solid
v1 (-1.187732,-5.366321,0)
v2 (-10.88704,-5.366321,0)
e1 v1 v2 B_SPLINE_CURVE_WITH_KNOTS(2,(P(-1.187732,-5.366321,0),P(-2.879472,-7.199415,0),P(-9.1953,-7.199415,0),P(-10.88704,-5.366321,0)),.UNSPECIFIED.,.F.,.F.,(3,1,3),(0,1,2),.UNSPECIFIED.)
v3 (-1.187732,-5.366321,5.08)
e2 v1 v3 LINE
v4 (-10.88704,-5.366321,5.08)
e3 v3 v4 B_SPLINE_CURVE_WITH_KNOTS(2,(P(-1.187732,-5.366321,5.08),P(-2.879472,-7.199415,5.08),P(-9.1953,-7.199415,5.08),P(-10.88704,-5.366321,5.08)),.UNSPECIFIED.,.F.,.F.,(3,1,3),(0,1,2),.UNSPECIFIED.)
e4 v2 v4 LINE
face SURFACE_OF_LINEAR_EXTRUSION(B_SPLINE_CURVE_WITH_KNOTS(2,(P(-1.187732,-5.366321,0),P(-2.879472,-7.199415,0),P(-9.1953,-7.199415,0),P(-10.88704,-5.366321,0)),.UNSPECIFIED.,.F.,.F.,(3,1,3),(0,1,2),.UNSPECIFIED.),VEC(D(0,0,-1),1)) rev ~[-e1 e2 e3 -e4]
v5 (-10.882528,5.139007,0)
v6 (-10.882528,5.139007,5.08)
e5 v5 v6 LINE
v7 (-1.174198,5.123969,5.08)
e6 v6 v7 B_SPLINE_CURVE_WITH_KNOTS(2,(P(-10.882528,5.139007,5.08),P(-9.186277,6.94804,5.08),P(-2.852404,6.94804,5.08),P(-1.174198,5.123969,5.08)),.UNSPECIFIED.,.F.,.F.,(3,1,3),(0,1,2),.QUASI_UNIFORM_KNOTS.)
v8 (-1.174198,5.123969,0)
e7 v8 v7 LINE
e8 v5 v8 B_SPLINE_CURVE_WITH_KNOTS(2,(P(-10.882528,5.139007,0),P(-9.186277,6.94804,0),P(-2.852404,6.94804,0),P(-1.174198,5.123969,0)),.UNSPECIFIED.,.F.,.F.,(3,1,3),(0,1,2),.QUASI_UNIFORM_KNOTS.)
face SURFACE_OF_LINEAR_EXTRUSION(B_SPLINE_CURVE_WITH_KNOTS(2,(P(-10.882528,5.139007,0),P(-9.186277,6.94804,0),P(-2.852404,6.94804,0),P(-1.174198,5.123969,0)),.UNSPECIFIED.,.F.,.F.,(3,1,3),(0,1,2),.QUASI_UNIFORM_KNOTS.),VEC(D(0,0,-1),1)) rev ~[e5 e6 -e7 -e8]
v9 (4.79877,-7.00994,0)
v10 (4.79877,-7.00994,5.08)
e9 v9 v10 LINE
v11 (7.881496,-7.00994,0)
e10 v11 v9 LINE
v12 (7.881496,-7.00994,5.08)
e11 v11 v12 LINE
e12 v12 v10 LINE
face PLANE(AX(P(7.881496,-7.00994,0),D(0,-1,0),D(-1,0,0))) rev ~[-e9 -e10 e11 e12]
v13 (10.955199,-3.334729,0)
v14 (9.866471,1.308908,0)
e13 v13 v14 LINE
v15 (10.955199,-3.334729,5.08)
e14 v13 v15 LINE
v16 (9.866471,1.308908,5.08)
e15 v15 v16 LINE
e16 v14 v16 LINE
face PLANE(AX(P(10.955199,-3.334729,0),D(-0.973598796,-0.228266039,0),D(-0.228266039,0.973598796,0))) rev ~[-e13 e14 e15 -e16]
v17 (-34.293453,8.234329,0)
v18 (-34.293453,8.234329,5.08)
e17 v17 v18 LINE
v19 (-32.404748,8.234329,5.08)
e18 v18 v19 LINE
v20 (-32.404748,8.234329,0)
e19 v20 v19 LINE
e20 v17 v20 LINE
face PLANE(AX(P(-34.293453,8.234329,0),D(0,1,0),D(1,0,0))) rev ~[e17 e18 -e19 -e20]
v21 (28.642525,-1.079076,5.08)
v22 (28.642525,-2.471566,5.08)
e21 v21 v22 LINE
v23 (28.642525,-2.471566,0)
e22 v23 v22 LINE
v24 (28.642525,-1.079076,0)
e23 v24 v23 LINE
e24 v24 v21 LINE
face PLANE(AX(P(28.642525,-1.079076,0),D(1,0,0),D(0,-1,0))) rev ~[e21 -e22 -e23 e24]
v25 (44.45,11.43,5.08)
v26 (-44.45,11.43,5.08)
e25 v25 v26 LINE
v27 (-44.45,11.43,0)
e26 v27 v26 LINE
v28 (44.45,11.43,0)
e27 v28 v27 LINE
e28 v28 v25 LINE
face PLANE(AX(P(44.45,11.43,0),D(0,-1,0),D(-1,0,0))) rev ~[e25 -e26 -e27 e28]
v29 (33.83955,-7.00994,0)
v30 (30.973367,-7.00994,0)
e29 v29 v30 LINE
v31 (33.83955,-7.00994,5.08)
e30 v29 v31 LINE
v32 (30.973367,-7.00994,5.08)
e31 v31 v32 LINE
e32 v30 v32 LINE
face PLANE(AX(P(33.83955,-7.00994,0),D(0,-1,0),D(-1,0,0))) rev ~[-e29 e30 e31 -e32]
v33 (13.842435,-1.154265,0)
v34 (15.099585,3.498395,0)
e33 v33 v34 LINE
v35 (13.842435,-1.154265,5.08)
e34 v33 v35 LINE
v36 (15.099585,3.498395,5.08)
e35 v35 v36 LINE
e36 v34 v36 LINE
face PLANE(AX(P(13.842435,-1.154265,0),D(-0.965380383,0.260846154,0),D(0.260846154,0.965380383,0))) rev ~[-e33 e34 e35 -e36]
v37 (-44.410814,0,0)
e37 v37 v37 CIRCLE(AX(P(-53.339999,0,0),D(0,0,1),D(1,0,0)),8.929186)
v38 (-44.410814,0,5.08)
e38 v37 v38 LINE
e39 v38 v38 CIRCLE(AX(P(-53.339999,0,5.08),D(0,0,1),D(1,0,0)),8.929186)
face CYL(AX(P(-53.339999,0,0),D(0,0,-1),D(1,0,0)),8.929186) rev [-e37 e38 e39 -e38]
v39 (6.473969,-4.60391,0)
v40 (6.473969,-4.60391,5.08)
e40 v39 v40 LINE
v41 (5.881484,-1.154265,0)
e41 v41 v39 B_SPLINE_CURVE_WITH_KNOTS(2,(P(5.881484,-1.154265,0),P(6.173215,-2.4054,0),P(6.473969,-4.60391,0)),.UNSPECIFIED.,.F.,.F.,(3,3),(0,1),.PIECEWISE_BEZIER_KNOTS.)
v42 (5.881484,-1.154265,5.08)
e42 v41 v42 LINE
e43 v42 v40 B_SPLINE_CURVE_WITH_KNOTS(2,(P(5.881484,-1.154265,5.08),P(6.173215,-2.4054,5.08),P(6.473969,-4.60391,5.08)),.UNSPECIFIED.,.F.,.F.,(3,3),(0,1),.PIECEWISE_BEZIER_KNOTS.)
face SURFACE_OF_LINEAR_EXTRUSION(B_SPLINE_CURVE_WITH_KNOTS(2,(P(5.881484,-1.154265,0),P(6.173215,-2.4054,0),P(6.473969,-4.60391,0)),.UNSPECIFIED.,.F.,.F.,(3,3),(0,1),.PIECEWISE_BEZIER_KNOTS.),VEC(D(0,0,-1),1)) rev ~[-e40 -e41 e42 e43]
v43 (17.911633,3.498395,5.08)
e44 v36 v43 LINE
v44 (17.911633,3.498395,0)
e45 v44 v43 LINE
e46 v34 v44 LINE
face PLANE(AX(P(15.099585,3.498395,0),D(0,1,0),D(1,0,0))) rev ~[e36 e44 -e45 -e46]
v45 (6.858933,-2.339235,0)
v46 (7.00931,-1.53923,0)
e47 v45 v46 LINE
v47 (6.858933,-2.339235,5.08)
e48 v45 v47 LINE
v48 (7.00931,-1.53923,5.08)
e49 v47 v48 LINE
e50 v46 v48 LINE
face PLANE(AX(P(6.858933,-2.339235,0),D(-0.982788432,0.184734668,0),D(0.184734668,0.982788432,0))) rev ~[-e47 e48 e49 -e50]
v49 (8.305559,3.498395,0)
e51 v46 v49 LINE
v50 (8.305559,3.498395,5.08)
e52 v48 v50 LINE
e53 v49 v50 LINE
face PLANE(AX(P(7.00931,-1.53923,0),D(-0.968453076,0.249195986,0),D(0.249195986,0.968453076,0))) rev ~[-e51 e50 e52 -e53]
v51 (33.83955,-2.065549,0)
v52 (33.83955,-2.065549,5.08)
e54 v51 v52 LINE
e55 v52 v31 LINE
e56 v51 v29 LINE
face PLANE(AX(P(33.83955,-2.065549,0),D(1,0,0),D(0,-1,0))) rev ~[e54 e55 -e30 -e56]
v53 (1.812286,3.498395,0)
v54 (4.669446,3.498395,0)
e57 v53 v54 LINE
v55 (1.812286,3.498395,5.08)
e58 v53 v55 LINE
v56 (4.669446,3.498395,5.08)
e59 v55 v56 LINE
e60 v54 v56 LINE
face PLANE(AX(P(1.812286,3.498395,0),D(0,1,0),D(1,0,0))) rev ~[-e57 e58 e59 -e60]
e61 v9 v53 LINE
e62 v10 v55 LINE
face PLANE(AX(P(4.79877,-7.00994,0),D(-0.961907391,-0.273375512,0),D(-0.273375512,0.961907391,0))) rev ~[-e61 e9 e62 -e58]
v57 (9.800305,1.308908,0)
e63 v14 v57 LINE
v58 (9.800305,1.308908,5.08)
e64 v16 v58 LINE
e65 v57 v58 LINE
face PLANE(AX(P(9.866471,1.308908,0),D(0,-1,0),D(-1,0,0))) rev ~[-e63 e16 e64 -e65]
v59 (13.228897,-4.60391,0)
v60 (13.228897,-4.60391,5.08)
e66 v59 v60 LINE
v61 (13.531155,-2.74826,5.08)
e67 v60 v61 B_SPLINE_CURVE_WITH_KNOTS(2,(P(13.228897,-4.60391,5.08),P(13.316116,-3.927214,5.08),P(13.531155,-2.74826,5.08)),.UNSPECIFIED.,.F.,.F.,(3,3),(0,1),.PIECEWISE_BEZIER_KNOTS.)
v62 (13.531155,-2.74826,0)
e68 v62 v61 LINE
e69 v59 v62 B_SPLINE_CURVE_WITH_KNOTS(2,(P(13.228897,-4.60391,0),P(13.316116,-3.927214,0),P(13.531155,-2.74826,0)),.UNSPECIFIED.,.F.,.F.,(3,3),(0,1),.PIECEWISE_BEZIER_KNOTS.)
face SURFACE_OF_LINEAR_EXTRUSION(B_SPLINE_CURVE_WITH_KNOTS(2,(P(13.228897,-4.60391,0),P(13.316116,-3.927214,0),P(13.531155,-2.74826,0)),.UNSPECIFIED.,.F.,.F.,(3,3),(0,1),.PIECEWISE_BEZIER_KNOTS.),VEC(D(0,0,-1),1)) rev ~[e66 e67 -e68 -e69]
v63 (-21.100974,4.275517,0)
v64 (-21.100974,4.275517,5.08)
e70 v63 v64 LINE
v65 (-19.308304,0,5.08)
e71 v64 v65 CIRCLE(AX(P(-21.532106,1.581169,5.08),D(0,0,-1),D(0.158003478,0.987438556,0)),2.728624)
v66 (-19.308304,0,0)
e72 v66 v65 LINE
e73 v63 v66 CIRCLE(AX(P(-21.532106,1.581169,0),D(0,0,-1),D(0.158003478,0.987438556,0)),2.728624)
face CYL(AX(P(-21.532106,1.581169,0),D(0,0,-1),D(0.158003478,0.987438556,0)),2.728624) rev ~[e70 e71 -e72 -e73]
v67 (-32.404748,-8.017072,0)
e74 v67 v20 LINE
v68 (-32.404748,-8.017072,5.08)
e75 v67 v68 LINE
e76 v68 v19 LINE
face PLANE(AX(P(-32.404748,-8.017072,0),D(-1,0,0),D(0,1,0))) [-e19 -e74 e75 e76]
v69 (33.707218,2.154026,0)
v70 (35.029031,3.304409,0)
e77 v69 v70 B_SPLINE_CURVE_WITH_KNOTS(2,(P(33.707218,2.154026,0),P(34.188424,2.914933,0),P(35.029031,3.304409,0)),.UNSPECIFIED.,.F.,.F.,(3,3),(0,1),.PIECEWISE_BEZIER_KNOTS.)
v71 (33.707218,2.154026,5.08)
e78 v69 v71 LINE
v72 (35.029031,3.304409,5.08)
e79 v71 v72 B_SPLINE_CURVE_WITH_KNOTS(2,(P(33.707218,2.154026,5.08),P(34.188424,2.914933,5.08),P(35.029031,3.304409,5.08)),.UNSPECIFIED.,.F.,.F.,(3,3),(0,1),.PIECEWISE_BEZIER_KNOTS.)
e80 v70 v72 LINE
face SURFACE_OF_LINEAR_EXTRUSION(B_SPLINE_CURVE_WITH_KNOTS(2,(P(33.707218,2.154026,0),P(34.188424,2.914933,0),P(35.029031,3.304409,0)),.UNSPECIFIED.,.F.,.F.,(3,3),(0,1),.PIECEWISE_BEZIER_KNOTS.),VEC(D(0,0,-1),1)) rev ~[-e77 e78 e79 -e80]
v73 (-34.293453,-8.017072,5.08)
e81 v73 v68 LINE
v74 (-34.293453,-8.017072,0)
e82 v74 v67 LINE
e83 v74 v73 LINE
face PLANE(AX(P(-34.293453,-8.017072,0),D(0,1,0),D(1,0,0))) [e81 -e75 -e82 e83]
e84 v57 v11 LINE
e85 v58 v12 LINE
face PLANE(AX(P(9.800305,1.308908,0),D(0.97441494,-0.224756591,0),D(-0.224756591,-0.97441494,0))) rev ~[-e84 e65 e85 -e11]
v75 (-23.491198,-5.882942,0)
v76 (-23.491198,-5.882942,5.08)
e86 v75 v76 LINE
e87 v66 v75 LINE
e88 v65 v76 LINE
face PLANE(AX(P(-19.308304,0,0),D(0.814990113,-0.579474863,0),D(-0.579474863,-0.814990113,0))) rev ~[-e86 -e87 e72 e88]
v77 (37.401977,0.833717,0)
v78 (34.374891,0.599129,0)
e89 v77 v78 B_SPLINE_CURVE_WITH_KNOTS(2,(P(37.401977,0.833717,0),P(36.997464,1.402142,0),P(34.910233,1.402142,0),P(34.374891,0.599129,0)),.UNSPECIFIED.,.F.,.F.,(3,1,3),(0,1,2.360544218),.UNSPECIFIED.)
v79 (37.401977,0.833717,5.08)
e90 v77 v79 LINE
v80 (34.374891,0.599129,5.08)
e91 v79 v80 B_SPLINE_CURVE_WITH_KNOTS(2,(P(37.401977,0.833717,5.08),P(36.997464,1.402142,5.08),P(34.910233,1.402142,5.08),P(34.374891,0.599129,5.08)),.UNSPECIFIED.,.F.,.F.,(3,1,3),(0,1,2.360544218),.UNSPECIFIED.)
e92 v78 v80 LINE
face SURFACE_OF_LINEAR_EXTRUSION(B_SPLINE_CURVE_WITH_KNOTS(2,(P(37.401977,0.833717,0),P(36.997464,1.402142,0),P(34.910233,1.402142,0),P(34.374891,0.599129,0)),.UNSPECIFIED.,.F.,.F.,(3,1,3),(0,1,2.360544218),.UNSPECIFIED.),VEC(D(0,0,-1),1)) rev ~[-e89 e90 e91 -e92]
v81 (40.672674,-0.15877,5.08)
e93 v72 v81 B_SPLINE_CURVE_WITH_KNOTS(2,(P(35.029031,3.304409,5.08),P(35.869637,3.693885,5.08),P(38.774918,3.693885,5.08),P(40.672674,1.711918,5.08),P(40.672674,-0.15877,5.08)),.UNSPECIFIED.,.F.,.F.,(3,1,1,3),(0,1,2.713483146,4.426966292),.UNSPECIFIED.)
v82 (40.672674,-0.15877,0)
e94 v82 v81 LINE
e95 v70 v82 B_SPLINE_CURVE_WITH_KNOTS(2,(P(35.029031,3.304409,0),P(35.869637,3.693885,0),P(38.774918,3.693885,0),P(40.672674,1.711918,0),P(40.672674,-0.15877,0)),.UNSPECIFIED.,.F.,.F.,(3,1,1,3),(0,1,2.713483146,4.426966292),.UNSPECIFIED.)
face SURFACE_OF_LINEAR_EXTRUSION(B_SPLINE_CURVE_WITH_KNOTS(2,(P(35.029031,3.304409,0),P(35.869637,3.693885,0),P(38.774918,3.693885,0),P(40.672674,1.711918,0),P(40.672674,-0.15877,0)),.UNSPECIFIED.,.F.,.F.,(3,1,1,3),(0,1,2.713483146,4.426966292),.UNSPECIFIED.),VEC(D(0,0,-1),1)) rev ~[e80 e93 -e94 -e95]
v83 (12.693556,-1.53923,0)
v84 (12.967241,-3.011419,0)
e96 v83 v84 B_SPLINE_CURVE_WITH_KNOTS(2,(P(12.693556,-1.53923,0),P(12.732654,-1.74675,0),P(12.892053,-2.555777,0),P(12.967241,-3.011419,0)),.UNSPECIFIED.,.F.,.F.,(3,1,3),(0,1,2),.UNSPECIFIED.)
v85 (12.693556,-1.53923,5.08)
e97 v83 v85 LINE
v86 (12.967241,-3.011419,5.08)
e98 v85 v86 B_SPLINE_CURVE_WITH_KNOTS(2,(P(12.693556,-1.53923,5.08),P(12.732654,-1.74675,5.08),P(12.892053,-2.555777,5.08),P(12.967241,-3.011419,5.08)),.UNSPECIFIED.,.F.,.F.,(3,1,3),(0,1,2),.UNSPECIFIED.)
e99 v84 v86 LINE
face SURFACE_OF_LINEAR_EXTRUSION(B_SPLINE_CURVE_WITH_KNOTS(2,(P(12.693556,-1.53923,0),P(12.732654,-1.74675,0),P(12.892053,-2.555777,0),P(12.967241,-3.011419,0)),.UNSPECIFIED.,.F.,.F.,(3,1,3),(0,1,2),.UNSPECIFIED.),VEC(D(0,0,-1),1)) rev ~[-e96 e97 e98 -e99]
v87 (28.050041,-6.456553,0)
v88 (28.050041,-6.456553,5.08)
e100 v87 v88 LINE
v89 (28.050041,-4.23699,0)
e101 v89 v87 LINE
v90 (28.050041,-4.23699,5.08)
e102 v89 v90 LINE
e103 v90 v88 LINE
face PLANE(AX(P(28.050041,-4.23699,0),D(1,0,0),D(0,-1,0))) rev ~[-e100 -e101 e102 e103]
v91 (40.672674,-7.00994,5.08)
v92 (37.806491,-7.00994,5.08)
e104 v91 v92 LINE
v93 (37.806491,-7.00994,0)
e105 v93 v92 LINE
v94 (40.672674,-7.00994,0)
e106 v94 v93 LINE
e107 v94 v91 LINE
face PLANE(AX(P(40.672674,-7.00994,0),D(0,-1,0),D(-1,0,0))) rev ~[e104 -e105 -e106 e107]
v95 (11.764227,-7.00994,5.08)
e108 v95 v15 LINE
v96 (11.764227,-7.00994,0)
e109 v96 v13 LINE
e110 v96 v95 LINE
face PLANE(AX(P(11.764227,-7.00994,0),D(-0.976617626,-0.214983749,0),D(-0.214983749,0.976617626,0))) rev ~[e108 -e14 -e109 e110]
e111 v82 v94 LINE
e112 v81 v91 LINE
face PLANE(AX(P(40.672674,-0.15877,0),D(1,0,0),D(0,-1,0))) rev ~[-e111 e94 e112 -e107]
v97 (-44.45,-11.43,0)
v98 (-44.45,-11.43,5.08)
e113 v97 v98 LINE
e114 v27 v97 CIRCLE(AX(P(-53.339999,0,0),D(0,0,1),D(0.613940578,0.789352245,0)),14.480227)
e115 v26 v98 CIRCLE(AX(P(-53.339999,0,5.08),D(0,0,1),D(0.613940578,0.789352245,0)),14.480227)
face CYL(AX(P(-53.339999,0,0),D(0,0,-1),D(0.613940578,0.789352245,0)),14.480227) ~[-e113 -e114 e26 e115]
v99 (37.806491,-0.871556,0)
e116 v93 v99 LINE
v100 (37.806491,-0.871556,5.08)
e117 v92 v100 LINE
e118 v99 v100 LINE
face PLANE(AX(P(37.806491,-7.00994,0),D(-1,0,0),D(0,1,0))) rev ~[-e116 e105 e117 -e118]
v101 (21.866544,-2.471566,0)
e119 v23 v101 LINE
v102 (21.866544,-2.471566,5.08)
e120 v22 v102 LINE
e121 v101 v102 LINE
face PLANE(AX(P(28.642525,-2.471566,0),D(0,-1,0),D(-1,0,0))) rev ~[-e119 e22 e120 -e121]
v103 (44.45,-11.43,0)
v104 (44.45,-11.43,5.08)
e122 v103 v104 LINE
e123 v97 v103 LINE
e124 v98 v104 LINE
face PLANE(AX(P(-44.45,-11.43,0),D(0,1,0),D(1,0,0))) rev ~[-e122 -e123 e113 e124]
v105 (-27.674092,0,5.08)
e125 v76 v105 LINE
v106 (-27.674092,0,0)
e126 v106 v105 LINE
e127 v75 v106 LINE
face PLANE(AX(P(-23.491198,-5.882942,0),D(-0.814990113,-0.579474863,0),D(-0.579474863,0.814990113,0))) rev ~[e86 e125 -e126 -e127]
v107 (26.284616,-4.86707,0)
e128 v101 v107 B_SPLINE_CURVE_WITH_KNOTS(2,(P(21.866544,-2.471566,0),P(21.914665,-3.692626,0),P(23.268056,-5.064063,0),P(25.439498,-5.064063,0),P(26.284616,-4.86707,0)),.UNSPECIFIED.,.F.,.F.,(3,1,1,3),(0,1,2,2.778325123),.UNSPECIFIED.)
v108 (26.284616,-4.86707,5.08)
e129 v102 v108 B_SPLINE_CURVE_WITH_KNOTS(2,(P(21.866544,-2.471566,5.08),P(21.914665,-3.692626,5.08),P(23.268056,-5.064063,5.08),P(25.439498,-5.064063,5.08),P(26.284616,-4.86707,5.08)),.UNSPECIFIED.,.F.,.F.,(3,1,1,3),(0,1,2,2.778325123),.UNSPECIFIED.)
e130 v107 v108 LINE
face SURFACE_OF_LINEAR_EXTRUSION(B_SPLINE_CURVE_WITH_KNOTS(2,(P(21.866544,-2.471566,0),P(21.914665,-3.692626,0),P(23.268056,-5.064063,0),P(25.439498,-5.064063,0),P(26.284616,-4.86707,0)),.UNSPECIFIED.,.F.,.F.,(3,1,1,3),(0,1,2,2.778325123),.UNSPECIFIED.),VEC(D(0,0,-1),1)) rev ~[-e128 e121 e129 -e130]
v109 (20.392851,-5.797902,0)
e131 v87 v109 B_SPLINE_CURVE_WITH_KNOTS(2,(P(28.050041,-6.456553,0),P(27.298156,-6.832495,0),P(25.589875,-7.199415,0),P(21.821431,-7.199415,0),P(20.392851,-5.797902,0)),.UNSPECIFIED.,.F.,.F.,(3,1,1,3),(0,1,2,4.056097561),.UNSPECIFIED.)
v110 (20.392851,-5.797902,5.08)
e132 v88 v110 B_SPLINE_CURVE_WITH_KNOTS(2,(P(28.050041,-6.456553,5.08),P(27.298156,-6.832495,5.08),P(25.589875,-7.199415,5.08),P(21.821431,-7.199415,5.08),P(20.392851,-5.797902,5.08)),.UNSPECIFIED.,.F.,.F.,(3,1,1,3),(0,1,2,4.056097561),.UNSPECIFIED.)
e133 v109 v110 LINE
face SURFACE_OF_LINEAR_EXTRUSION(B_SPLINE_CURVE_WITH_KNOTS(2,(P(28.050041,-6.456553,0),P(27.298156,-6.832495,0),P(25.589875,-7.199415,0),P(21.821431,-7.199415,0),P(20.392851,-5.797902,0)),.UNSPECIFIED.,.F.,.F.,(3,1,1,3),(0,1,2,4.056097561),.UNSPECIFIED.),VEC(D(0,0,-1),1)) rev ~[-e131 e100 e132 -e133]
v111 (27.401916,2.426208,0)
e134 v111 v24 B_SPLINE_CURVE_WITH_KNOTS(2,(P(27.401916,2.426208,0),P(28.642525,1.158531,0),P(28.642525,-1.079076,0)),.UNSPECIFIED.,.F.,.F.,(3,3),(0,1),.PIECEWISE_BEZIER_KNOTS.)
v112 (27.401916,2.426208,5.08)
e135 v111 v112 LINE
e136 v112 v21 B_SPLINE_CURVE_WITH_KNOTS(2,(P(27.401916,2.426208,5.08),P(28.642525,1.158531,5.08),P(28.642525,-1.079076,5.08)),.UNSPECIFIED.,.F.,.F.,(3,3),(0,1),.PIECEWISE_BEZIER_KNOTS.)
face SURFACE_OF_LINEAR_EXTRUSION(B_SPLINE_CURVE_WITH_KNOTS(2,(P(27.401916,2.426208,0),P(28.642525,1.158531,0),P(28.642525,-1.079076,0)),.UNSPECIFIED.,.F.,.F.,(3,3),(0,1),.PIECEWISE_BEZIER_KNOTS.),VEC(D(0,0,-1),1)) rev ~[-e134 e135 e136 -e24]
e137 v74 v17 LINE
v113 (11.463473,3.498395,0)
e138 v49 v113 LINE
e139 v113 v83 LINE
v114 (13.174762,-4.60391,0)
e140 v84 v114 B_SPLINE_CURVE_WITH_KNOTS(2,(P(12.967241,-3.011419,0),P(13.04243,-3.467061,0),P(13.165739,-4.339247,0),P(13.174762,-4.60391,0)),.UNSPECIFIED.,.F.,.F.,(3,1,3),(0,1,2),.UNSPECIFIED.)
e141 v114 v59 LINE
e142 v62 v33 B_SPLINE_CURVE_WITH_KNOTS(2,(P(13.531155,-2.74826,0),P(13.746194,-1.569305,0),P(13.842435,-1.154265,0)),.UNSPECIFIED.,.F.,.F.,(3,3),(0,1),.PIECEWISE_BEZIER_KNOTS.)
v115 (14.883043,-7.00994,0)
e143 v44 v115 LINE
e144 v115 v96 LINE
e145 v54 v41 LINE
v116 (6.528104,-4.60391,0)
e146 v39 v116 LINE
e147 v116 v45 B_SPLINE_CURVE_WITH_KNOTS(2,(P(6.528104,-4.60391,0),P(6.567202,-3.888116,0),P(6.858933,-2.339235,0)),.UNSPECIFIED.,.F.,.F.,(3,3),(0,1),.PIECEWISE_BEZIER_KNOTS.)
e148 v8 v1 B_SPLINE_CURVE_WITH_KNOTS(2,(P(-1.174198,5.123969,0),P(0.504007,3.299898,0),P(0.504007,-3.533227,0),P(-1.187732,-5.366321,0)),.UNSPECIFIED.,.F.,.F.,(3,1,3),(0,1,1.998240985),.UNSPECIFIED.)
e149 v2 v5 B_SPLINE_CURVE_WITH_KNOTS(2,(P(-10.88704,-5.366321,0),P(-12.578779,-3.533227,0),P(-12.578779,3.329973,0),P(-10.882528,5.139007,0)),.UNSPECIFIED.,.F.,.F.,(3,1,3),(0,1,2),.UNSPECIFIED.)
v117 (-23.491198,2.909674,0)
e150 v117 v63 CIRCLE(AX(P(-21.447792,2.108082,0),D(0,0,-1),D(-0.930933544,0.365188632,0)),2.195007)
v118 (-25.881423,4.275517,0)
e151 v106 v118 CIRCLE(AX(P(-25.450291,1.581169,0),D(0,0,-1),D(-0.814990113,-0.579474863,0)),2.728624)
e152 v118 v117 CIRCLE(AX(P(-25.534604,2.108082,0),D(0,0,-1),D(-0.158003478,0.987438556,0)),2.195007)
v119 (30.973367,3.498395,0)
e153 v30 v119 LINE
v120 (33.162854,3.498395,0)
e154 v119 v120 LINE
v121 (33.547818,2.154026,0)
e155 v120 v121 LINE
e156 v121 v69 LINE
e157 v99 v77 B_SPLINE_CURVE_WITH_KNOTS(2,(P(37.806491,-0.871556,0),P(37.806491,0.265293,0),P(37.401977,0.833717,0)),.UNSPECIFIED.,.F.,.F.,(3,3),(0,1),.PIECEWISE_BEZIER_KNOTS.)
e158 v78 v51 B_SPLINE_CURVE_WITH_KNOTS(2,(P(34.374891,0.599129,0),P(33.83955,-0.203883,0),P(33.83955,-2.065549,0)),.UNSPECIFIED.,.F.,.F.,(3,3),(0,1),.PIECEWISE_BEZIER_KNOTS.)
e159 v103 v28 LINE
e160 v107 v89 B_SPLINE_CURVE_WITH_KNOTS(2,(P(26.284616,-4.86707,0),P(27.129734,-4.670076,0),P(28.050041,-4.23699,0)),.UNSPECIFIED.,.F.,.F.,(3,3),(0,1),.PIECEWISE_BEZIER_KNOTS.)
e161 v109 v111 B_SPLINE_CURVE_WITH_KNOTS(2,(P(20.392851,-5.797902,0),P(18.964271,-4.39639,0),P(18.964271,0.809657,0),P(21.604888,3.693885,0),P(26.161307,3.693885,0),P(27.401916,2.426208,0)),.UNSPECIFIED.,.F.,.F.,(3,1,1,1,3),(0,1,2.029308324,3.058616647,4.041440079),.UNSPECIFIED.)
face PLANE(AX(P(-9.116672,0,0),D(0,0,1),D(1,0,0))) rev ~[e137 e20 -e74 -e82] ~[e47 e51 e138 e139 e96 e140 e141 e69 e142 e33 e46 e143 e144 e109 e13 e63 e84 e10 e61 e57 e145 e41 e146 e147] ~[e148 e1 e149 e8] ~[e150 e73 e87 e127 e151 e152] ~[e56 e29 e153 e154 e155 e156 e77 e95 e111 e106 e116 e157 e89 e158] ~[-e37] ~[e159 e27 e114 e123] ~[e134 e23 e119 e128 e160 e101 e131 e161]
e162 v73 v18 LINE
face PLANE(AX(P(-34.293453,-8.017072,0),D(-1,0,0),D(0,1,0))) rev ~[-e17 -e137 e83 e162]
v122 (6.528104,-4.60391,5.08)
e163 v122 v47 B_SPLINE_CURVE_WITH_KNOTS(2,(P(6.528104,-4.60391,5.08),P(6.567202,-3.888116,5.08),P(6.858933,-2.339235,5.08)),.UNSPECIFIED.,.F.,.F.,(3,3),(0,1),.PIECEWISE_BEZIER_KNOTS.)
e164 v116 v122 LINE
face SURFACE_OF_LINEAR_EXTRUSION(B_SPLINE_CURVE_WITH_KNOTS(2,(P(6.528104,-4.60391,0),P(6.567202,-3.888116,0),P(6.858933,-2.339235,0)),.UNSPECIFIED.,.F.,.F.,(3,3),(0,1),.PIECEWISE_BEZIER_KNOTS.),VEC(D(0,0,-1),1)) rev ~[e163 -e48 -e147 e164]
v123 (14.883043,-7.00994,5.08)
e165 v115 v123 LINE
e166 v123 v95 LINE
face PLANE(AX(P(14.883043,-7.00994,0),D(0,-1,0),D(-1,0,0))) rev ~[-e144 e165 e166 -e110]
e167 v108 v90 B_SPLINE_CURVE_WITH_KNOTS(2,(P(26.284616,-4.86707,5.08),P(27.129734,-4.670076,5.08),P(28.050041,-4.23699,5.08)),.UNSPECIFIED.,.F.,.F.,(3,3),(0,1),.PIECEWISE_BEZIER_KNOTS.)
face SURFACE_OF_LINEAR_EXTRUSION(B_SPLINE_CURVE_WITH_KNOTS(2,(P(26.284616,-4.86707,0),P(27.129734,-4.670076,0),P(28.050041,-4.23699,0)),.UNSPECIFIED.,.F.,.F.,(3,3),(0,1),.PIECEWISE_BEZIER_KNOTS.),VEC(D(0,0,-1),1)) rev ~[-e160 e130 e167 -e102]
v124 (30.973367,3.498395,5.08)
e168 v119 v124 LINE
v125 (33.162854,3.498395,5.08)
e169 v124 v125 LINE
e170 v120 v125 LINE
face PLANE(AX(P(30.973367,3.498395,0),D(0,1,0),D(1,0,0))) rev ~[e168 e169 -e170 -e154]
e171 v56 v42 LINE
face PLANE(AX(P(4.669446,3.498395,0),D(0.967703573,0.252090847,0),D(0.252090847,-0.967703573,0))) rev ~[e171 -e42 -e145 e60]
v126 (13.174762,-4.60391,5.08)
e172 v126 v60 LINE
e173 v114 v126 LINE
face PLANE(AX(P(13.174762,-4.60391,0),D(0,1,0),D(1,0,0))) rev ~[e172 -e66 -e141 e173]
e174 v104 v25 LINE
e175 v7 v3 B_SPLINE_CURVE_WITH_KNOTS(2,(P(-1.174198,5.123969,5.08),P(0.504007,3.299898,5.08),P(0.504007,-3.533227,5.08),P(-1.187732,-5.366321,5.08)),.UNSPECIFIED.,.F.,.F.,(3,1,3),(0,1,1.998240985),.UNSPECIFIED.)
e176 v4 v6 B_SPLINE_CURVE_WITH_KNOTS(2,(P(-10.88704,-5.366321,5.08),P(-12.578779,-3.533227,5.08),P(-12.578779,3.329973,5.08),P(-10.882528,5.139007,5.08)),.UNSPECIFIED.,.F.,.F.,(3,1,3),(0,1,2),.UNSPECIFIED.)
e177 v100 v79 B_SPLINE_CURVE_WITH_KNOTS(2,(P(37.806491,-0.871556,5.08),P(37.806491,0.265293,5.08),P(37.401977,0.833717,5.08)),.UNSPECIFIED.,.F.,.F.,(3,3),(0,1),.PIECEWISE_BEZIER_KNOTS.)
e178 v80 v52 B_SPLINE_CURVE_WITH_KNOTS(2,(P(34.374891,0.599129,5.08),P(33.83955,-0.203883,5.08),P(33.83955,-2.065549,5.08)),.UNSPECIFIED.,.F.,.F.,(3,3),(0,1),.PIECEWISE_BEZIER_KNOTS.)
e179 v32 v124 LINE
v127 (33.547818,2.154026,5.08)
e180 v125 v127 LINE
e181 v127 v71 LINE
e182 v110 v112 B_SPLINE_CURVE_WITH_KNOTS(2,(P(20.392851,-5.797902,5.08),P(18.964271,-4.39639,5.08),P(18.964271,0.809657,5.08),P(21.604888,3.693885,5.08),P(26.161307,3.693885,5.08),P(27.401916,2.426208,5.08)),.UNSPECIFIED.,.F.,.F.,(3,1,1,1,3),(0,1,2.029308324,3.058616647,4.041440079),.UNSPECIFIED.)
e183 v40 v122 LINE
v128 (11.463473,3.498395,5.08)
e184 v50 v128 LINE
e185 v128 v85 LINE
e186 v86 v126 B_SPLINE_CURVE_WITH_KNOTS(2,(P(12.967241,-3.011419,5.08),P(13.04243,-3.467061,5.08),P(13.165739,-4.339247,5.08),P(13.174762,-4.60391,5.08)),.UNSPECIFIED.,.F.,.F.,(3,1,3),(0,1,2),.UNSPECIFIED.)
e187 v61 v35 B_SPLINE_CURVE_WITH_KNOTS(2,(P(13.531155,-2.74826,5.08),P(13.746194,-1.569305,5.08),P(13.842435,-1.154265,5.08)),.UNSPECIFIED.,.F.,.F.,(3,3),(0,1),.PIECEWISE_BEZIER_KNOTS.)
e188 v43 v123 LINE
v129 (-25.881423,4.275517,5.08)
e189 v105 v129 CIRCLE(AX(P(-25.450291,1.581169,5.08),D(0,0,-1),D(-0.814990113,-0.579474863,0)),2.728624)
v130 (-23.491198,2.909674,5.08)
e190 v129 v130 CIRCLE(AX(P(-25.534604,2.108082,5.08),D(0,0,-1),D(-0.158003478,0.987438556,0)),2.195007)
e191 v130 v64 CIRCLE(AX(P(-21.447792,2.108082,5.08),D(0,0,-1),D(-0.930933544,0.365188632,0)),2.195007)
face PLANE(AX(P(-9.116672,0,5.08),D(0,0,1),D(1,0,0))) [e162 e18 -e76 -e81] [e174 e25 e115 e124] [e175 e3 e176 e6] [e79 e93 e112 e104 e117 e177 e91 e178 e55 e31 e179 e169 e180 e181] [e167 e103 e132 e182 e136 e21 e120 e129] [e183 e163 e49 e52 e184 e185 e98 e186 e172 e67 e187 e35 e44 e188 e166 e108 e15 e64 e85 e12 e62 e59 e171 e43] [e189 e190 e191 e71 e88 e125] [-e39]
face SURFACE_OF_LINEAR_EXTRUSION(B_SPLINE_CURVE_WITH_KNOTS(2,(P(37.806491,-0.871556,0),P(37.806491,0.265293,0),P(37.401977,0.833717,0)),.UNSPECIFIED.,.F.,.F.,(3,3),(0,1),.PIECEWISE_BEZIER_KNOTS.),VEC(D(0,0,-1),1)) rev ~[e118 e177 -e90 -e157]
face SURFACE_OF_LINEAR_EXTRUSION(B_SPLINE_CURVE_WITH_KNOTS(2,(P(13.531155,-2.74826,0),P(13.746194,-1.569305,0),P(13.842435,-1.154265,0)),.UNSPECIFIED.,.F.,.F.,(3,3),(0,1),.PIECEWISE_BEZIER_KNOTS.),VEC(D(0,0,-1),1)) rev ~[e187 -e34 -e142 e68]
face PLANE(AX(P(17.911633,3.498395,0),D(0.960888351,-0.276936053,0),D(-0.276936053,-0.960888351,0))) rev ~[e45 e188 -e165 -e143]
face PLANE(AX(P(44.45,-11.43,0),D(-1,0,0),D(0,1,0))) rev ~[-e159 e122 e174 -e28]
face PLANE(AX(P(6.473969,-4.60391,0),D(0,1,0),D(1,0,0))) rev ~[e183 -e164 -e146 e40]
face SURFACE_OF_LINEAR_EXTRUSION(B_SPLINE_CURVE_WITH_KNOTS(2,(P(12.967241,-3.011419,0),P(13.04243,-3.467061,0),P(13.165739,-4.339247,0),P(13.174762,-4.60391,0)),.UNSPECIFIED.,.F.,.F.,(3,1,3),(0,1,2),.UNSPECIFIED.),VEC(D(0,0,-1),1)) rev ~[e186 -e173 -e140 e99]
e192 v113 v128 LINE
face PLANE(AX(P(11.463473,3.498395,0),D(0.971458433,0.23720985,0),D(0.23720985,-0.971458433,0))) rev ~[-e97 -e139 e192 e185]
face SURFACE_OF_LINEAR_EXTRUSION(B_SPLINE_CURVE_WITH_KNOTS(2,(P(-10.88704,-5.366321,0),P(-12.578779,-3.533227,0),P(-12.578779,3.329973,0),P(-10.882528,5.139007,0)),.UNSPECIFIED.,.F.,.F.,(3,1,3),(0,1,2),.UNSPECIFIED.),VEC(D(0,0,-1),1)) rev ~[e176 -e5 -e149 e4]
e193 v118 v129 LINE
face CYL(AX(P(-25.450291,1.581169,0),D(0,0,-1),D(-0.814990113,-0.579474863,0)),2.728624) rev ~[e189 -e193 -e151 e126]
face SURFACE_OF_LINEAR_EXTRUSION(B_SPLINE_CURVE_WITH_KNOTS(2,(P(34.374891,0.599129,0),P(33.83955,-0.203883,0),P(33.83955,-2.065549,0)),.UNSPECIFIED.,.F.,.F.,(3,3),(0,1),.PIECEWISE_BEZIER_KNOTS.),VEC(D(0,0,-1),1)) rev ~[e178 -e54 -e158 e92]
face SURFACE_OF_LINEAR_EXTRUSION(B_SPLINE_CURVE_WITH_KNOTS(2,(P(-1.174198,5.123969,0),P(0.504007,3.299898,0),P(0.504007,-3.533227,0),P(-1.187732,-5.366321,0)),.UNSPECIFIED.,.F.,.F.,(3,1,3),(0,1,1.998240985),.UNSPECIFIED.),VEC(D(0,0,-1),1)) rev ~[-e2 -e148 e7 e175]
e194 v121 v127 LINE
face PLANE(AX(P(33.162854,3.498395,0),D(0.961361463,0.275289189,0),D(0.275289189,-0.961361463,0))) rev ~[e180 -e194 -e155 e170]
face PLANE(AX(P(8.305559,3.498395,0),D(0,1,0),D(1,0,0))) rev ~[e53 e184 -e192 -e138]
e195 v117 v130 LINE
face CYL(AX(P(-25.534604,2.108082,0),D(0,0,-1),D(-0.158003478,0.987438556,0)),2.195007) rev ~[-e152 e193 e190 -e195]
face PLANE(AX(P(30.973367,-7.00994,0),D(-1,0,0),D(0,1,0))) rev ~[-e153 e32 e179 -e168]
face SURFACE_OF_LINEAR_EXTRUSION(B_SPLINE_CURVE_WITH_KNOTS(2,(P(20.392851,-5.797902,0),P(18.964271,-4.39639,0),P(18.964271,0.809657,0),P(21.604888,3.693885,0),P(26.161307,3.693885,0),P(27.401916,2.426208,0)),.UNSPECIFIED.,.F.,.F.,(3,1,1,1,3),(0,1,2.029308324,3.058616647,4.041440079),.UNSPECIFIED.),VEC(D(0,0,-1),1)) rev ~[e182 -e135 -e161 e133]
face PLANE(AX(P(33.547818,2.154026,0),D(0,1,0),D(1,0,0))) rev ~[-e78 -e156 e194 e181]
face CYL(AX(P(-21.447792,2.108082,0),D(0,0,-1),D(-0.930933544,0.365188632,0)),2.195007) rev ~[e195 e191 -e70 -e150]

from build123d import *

# Parameters (mm, degrees)
F0_R     = 8.9291855446
F0_W     = 1.8887050901
F0_H     = 16.251400295
F1_DEPTH = 5.08


with BuildPart() as f1:
    # F0 (on Top) → F1 (new body)
    with BuildSketch(Plane.XY):
        with BuildLine():
            Line((44.45, -11.43), (44.45, 11.43))
            Line((44.45, 11.43), (-44.45, 11.43))
            ThreePointArc((-44.45, 11.43), (-67.8202265578, 0), (-44.45, -11.43))
            Line((-44.45, -11.43), (44.45, -11.43))
        make_face()
        with BuildLine():
            Line((-19.3083044142, 0), (-23.491198197, -5.8829421178))
            Line((-23.491198197, -5.8829421178), (-27.6740919799, 0))
            ThreePointArc((-27.6740919799, 0), (-27.9666728456, 2.6362555137), (-25.8814226836, 4.2755170725))
            ThreePointArc((-25.8814226836, 4.2755170725), (-24.4455751804, 4.0138821459), (-23.491198197, 2.9096740764))
            ThreePointArc((-23.491198197, 2.9096740764), (-22.5368212136, 4.0138821459), (-21.1009737104, 4.2755170725))
            ThreePointArc((-21.1009737104, 4.2755170725), (-19.0157235484, 2.6362555137), (-19.3083044142, 0))
        make_face(mode=Mode.SUBTRACT)
        with BuildLine():
            add(Edge.make_bspline(
                [(-1.1741983702, 5.1239690358), (0.5040073817, 3.2998977303), (0.5040073817, -0.1196720545)],
                knots=[0, 0, 0, 1, 1, 1], degree=2))
            add(Edge.make_bspline(
                [(0.5040073817, -0.1196720545), (0.5040073817, -3.5332267649), (-1.1877322875, -5.366320682)],
                knots=[0, 0, 0, 1, 1, 1], degree=2))
            add(Edge.make_bspline(
                [(-1.1877322875, -5.366320682), (-2.8794719568, -7.1994145992), (-6.037386006, -7.1994145992)],
                knots=[0, 0, 0, 1, 1, 1], degree=2))
            add(Edge.make_bspline(
                [(-6.037386006, -7.1994145992), (-9.1953000553, -7.1994145992), (-10.8870397245, -5.366320682)],
                knots=[0, 0, 0, 1, 1, 1], degree=2))
            add(Edge.make_bspline(
                [(-10.8870397245, -5.366320682), (-12.5787793938, -3.5332267649), (-12.5787793938, -0.1016268314)],
                knots=[0, 0, 0, 1, 1, 1], degree=2))
            add(Edge.make_bspline(
                [(-12.5787793938, -0.1016268314), (-12.5787793938, 3.3299731022), (-10.8825284187, 5.1390067218)],
                knots=[0, 0, 0, 1, 1, 1], degree=2))
            add(Edge.make_bspline(
                [(-10.8825284187, 5.1390067218), (-9.1862774437, 6.9480403414), (-6.0193407829, 6.9480403414)],
                knots=[0, 0, 0, 1, 1, 1], degree=2))
            add(Edge.make_bspline(
                [(-6.0193407829, 6.9480403414), (-2.8524041221, 6.9480403414), (-1.1741983702, 5.1239690358)],
                knots=[0, 0, 0, 1, 1, 1], degree=2))
        make_face(mode=Mode.SUBTRACT)
        with BuildLine():
            Line((14.883042686, -7.0099397562), (11.7642266202, -7.0099397562))
            Line((11.7642266202, -7.0099397562), (10.9551991161, -3.3347293104))
            Line((10.9551991161, -3.3347293104), (9.8664706534, 1.3089081106))
            Line((9.8664706534, 1.3089081106), (9.8003048353, 1.3089081106))
            Line((9.8003048353, 1.3089081106), (7.8814961082, -7.0099397562))
            Line((7.8814961082, -7.0099397562), (4.7987704887, -7.0099397562))
            Line((4.7987704887, -7.0099397562), (1.8122860592, 3.4983951848))
            Line((1.8122860592, 3.4983951848), (4.6694463895, 3.4983951848))
            Line((4.6694463895, 3.4983951848), (5.881483877, -1.1542648478))
            add(Edge.make_bspline(
                [(5.881483877, -1.1542648478), (6.1732149844, -2.4054003187), (6.4739687034, -4.6039100044)],
                knots=[0, 0, 0, 1, 1, 1], degree=2))
            Line((6.4739687034, -4.6039100044), (6.5281043728, -4.6039100044))
            add(Edge.make_bspline(
                [(6.5281043728, -4.6039100044), (6.5672023563, -3.8881161533), (6.8589334637, -2.3392345005)],
                knots=[0, 0, 0, 1, 1, 1], degree=2))
            Line((6.8589334637, -2.3392345005), (7.0093103232, -1.5392296081))
            Line((7.0093103232, -1.5392296081), (8.3055588519, 3.4983951848))
            Line((8.3055588519, 3.4983951848), (11.4634729012, 3.4983951848))
            Line((11.4634729012, 3.4983951848), (12.6935556118, -1.5392296081))
            add(Edge.make_bspline(
                [(12.6935556118, -1.5392296081), (12.7326535953, -1.7467496742), (12.8123533308, -2.1512634262)],
                knots=[0, 0, 0, 1, 1, 1], degree=2))
            add(Edge.make_bspline(
                [(12.8123533308, -2.1512634262), (12.8920530663, -2.5557771782), (12.9672414961, -3.0114190625)],
                knots=[0, 0, 0, 1, 1, 1], degree=2))
            add(Edge.make_bspline(
                [(12.9672414961, -3.0114190625), (13.0424299258, -3.4670609467), (13.1040844382, -3.9031538392)],
                knots=[0, 0, 0, 1, 1, 1], degree=2))
            add(Edge.make_bspline(
                [(13.1040844382, -3.9031538392), (13.1657389506, -4.3392467317), (13.1747615622, -4.6039100044)],
                knots=[0, 0, 0, 1, 1, 1], degree=2))
            Line((13.1747615622, -4.6039100044), (13.2288972316, -4.6039100044))
            add(Edge.make_bspline(
                [(13.2288972316, -4.6039100044), (13.3161158101, -3.9272141367), (13.5311547192, -2.7482595584)],
                knots=[0, 0, 0, 1, 1, 1], degree=2))
            add(Edge.make_bspline(
                [(13.5311547192, -2.7482595584), (13.7461936282, -1.56930498), (13.8424348183, -1.1542648478)],
                knots=[0, 0, 0, 1, 1, 1], degree=2))
            Line((13.8424348183, -1.1542648478), (15.0995853636, 3.4983951848))
            Line((15.0995853636, 3.4983951848), (17.911632636, 3.4983951848))
            Line((17.911632636, 3.4983951848), (14.883042686, -7.0099397562))
        make_face(mode=Mode.SUBTRACT)
        with BuildLine():
            add(Edge.make_bspline(
                [(26.4440156434, -7.0159548306), (25.5898750815, -7.1994145992), (24.3567848337, -7.1994145992)],
                knots=[0, 0, 0, 1, 1, 1], degree=2))
            add(Edge.make_bspline(
                [(24.3567848337, -7.1994145992), (21.8214309827, -7.1994145992), (20.3928508176, -5.7979022688)],
                knots=[0, 0, 0, 1, 1, 1], degree=2))
            add(Edge.make_bspline(
                [(20.3928508176, -5.7979022688), (18.9642706525, -4.3963899383), (18.9642706525, -1.8309607155)],
                knots=[0, 0, 0, 1, 1, 1], degree=2))
            add(Edge.make_bspline(
                [(18.9642706525, -1.8309607155), (18.9642706525, 0.8096569371), (20.2845794788, 2.2517710196)],
                knots=[0, 0, 0, 1, 1, 1], degree=2))
            add(Edge.make_bspline(
                [(20.2845794788, 2.2517710196), (21.6048883051, 3.6938851021), (23.9357296271, 3.6938851021)],
                knots=[0, 0, 0, 1, 1, 1], degree=2))
            add(Edge.make_bspline(
                [(23.9357296271, 3.6938851021), (26.1613071476, 3.6938851021), (27.4019162383, 2.4262081766)],
                knots=[0, 0, 0, 1, 1, 1], degree=2))
            add(Edge.make_bspline(
                [(27.4019162383, 2.4262081766), (28.6425253291, 1.1585312511), (28.6425253291, -1.079076418)],
                knots=[0, 0, 0, 1, 1, 1], degree=2))
            Line((28.6425253291, -1.079076418), (28.6425253291, -2.4715661369))
            Line((28.6425253291, -2.4715661369), (21.8665440406, -2.4715661369))
            add(Edge.make_bspline(
                [(21.8665440406, -2.4715661369), (21.9146646356, -3.6926262359), (22.5913605033, -4.3783447152)],
                knots=[0, 0, 0, 1, 1, 1], degree=2))
            add(Edge.make_bspline(
                [(22.5913605033, -4.3783447152), (23.268056371, -5.0640631945), (24.48911647, -5.0640631945)],
                knots=[0, 0, 0, 1, 1, 1], degree=2))
            add(Edge.make_bspline(
                [(24.48911647, -5.0640631945), (25.439498222, -5.0640631945), (26.2846161723, -4.8670695085)],
                knots=[0, 0, 0, 1, 1, 1], degree=2))
            add(Edge.make_bspline(
                [(26.2846161723, -4.8670695085), (27.1297341227, -4.6700758226), (28.0500405027, -4.2369904673)],
                knots=[0, 0, 0, 1, 1, 1], degree=2))
            Line((28.0500405027, -4.2369904673), (28.0500405027, -6.4565529133))
            add(Edge.make_bspline(
                [(28.0500405027, -6.4565529133), (27.2981562053, -6.832495062), (26.4440156434, -7.0159548306)],
                knots=[0, 0, 0, 1, 1, 1], degree=2))
        make_face(mode=Mode.SUBTRACT)
        with BuildLine():
            Line((40.6726740882, -0.158770038), (40.6726740882, -7.0099397562))
            Line((40.6726740882, -7.0099397562), (37.8064911463, -7.0099397562))
            Line((37.8064911463, -7.0099397562), (37.8064911463, -0.8715563519))
            add(Edge.make_bspline(
                [(37.8064911463, -0.8715563519), (37.8064911463, 0.2652927058), (37.4019773943, 0.8337172347)],
                knots=[0, 0, 0, 1, 1, 1], degree=2))
            add(Edge.make_bspline(
                [(37.4019773943, 0.8337172347), (36.9974636423, 1.4021417635), (36.1132477085, 1.4021417635)],
                knots=[0, 0, 0, 1, 1, 1], degree=2))
            add(Edge.make_bspline(
                [(36.1132477085, 1.4021417635), (34.9102328326, 1.4021417635), (34.3748912128, 0.5991293339)],
                knots=[0, 0, 0, 1, 1, 1], degree=2))
            add(Edge.make_bspline(
                [(34.3748912128, 0.5991293339), (33.839549593, -0.2038830958), (33.839549593, -2.0655486163)],
                knots=[0, 0, 0, 1, 1, 1], degree=2))
            Line((33.839549593, -2.0655486163), (33.839549593, -7.0099397562))
            Line((33.839549593, -7.0099397562), (30.9733666512, -7.0099397562))
            Line((30.9733666512, -7.0099397562), (30.9733666512, 3.4983951848))
            Line((30.9733666512, 3.4983951848), (33.1628537253, 3.4983951848))
            Line((33.1628537253, 3.4983951848), (33.5478184856, 2.154026061))
            Line((33.5478184856, 2.154026061), (33.7072179567, 2.154026061))
            add(Edge.make_bspline(
                [(33.7072179567, 2.154026061), (34.188423907, 2.91493297), (35.0290305516, 3.304409036)],
                knots=[0, 0, 0, 1, 1, 1], degree=2))
            add(Edge.make_bspline(
                [(35.0290305516, 3.304409036), (35.8696371961, 3.6938851021), (36.9403204357, 3.6938851021)],
                knots=[0, 0, 0, 1, 1, 1], degree=2))
            add(Edge.make_bspline(
                [(36.9403204357, 3.6938851021), (38.7749181214, 3.6938851021), (39.7237961048, 2.7029015981)],
                knots=[0, 0, 0, 1, 1, 1], degree=2))
            add(Edge.make_bspline(
                [(39.7237961048, 2.7029015981), (40.6726740882, 1.7119180941), (40.6726740882, -0.158770038)],
                knots=[0, 0, 0, 1, 1, 1], degree=2))
        make_face(mode=Mode.SUBTRACT)
        with Locations((-53.3399991691, 0)):
            Circle(F0_R, mode=Mode.SUBTRACT)
        with Locations((-33.3491009139, 0.1086286247)):
            Rectangle(F0_W, F0_H, mode=Mode.SUBTRACT)
    extrude(amount=F1_DEPTH)


solid = f1.part
